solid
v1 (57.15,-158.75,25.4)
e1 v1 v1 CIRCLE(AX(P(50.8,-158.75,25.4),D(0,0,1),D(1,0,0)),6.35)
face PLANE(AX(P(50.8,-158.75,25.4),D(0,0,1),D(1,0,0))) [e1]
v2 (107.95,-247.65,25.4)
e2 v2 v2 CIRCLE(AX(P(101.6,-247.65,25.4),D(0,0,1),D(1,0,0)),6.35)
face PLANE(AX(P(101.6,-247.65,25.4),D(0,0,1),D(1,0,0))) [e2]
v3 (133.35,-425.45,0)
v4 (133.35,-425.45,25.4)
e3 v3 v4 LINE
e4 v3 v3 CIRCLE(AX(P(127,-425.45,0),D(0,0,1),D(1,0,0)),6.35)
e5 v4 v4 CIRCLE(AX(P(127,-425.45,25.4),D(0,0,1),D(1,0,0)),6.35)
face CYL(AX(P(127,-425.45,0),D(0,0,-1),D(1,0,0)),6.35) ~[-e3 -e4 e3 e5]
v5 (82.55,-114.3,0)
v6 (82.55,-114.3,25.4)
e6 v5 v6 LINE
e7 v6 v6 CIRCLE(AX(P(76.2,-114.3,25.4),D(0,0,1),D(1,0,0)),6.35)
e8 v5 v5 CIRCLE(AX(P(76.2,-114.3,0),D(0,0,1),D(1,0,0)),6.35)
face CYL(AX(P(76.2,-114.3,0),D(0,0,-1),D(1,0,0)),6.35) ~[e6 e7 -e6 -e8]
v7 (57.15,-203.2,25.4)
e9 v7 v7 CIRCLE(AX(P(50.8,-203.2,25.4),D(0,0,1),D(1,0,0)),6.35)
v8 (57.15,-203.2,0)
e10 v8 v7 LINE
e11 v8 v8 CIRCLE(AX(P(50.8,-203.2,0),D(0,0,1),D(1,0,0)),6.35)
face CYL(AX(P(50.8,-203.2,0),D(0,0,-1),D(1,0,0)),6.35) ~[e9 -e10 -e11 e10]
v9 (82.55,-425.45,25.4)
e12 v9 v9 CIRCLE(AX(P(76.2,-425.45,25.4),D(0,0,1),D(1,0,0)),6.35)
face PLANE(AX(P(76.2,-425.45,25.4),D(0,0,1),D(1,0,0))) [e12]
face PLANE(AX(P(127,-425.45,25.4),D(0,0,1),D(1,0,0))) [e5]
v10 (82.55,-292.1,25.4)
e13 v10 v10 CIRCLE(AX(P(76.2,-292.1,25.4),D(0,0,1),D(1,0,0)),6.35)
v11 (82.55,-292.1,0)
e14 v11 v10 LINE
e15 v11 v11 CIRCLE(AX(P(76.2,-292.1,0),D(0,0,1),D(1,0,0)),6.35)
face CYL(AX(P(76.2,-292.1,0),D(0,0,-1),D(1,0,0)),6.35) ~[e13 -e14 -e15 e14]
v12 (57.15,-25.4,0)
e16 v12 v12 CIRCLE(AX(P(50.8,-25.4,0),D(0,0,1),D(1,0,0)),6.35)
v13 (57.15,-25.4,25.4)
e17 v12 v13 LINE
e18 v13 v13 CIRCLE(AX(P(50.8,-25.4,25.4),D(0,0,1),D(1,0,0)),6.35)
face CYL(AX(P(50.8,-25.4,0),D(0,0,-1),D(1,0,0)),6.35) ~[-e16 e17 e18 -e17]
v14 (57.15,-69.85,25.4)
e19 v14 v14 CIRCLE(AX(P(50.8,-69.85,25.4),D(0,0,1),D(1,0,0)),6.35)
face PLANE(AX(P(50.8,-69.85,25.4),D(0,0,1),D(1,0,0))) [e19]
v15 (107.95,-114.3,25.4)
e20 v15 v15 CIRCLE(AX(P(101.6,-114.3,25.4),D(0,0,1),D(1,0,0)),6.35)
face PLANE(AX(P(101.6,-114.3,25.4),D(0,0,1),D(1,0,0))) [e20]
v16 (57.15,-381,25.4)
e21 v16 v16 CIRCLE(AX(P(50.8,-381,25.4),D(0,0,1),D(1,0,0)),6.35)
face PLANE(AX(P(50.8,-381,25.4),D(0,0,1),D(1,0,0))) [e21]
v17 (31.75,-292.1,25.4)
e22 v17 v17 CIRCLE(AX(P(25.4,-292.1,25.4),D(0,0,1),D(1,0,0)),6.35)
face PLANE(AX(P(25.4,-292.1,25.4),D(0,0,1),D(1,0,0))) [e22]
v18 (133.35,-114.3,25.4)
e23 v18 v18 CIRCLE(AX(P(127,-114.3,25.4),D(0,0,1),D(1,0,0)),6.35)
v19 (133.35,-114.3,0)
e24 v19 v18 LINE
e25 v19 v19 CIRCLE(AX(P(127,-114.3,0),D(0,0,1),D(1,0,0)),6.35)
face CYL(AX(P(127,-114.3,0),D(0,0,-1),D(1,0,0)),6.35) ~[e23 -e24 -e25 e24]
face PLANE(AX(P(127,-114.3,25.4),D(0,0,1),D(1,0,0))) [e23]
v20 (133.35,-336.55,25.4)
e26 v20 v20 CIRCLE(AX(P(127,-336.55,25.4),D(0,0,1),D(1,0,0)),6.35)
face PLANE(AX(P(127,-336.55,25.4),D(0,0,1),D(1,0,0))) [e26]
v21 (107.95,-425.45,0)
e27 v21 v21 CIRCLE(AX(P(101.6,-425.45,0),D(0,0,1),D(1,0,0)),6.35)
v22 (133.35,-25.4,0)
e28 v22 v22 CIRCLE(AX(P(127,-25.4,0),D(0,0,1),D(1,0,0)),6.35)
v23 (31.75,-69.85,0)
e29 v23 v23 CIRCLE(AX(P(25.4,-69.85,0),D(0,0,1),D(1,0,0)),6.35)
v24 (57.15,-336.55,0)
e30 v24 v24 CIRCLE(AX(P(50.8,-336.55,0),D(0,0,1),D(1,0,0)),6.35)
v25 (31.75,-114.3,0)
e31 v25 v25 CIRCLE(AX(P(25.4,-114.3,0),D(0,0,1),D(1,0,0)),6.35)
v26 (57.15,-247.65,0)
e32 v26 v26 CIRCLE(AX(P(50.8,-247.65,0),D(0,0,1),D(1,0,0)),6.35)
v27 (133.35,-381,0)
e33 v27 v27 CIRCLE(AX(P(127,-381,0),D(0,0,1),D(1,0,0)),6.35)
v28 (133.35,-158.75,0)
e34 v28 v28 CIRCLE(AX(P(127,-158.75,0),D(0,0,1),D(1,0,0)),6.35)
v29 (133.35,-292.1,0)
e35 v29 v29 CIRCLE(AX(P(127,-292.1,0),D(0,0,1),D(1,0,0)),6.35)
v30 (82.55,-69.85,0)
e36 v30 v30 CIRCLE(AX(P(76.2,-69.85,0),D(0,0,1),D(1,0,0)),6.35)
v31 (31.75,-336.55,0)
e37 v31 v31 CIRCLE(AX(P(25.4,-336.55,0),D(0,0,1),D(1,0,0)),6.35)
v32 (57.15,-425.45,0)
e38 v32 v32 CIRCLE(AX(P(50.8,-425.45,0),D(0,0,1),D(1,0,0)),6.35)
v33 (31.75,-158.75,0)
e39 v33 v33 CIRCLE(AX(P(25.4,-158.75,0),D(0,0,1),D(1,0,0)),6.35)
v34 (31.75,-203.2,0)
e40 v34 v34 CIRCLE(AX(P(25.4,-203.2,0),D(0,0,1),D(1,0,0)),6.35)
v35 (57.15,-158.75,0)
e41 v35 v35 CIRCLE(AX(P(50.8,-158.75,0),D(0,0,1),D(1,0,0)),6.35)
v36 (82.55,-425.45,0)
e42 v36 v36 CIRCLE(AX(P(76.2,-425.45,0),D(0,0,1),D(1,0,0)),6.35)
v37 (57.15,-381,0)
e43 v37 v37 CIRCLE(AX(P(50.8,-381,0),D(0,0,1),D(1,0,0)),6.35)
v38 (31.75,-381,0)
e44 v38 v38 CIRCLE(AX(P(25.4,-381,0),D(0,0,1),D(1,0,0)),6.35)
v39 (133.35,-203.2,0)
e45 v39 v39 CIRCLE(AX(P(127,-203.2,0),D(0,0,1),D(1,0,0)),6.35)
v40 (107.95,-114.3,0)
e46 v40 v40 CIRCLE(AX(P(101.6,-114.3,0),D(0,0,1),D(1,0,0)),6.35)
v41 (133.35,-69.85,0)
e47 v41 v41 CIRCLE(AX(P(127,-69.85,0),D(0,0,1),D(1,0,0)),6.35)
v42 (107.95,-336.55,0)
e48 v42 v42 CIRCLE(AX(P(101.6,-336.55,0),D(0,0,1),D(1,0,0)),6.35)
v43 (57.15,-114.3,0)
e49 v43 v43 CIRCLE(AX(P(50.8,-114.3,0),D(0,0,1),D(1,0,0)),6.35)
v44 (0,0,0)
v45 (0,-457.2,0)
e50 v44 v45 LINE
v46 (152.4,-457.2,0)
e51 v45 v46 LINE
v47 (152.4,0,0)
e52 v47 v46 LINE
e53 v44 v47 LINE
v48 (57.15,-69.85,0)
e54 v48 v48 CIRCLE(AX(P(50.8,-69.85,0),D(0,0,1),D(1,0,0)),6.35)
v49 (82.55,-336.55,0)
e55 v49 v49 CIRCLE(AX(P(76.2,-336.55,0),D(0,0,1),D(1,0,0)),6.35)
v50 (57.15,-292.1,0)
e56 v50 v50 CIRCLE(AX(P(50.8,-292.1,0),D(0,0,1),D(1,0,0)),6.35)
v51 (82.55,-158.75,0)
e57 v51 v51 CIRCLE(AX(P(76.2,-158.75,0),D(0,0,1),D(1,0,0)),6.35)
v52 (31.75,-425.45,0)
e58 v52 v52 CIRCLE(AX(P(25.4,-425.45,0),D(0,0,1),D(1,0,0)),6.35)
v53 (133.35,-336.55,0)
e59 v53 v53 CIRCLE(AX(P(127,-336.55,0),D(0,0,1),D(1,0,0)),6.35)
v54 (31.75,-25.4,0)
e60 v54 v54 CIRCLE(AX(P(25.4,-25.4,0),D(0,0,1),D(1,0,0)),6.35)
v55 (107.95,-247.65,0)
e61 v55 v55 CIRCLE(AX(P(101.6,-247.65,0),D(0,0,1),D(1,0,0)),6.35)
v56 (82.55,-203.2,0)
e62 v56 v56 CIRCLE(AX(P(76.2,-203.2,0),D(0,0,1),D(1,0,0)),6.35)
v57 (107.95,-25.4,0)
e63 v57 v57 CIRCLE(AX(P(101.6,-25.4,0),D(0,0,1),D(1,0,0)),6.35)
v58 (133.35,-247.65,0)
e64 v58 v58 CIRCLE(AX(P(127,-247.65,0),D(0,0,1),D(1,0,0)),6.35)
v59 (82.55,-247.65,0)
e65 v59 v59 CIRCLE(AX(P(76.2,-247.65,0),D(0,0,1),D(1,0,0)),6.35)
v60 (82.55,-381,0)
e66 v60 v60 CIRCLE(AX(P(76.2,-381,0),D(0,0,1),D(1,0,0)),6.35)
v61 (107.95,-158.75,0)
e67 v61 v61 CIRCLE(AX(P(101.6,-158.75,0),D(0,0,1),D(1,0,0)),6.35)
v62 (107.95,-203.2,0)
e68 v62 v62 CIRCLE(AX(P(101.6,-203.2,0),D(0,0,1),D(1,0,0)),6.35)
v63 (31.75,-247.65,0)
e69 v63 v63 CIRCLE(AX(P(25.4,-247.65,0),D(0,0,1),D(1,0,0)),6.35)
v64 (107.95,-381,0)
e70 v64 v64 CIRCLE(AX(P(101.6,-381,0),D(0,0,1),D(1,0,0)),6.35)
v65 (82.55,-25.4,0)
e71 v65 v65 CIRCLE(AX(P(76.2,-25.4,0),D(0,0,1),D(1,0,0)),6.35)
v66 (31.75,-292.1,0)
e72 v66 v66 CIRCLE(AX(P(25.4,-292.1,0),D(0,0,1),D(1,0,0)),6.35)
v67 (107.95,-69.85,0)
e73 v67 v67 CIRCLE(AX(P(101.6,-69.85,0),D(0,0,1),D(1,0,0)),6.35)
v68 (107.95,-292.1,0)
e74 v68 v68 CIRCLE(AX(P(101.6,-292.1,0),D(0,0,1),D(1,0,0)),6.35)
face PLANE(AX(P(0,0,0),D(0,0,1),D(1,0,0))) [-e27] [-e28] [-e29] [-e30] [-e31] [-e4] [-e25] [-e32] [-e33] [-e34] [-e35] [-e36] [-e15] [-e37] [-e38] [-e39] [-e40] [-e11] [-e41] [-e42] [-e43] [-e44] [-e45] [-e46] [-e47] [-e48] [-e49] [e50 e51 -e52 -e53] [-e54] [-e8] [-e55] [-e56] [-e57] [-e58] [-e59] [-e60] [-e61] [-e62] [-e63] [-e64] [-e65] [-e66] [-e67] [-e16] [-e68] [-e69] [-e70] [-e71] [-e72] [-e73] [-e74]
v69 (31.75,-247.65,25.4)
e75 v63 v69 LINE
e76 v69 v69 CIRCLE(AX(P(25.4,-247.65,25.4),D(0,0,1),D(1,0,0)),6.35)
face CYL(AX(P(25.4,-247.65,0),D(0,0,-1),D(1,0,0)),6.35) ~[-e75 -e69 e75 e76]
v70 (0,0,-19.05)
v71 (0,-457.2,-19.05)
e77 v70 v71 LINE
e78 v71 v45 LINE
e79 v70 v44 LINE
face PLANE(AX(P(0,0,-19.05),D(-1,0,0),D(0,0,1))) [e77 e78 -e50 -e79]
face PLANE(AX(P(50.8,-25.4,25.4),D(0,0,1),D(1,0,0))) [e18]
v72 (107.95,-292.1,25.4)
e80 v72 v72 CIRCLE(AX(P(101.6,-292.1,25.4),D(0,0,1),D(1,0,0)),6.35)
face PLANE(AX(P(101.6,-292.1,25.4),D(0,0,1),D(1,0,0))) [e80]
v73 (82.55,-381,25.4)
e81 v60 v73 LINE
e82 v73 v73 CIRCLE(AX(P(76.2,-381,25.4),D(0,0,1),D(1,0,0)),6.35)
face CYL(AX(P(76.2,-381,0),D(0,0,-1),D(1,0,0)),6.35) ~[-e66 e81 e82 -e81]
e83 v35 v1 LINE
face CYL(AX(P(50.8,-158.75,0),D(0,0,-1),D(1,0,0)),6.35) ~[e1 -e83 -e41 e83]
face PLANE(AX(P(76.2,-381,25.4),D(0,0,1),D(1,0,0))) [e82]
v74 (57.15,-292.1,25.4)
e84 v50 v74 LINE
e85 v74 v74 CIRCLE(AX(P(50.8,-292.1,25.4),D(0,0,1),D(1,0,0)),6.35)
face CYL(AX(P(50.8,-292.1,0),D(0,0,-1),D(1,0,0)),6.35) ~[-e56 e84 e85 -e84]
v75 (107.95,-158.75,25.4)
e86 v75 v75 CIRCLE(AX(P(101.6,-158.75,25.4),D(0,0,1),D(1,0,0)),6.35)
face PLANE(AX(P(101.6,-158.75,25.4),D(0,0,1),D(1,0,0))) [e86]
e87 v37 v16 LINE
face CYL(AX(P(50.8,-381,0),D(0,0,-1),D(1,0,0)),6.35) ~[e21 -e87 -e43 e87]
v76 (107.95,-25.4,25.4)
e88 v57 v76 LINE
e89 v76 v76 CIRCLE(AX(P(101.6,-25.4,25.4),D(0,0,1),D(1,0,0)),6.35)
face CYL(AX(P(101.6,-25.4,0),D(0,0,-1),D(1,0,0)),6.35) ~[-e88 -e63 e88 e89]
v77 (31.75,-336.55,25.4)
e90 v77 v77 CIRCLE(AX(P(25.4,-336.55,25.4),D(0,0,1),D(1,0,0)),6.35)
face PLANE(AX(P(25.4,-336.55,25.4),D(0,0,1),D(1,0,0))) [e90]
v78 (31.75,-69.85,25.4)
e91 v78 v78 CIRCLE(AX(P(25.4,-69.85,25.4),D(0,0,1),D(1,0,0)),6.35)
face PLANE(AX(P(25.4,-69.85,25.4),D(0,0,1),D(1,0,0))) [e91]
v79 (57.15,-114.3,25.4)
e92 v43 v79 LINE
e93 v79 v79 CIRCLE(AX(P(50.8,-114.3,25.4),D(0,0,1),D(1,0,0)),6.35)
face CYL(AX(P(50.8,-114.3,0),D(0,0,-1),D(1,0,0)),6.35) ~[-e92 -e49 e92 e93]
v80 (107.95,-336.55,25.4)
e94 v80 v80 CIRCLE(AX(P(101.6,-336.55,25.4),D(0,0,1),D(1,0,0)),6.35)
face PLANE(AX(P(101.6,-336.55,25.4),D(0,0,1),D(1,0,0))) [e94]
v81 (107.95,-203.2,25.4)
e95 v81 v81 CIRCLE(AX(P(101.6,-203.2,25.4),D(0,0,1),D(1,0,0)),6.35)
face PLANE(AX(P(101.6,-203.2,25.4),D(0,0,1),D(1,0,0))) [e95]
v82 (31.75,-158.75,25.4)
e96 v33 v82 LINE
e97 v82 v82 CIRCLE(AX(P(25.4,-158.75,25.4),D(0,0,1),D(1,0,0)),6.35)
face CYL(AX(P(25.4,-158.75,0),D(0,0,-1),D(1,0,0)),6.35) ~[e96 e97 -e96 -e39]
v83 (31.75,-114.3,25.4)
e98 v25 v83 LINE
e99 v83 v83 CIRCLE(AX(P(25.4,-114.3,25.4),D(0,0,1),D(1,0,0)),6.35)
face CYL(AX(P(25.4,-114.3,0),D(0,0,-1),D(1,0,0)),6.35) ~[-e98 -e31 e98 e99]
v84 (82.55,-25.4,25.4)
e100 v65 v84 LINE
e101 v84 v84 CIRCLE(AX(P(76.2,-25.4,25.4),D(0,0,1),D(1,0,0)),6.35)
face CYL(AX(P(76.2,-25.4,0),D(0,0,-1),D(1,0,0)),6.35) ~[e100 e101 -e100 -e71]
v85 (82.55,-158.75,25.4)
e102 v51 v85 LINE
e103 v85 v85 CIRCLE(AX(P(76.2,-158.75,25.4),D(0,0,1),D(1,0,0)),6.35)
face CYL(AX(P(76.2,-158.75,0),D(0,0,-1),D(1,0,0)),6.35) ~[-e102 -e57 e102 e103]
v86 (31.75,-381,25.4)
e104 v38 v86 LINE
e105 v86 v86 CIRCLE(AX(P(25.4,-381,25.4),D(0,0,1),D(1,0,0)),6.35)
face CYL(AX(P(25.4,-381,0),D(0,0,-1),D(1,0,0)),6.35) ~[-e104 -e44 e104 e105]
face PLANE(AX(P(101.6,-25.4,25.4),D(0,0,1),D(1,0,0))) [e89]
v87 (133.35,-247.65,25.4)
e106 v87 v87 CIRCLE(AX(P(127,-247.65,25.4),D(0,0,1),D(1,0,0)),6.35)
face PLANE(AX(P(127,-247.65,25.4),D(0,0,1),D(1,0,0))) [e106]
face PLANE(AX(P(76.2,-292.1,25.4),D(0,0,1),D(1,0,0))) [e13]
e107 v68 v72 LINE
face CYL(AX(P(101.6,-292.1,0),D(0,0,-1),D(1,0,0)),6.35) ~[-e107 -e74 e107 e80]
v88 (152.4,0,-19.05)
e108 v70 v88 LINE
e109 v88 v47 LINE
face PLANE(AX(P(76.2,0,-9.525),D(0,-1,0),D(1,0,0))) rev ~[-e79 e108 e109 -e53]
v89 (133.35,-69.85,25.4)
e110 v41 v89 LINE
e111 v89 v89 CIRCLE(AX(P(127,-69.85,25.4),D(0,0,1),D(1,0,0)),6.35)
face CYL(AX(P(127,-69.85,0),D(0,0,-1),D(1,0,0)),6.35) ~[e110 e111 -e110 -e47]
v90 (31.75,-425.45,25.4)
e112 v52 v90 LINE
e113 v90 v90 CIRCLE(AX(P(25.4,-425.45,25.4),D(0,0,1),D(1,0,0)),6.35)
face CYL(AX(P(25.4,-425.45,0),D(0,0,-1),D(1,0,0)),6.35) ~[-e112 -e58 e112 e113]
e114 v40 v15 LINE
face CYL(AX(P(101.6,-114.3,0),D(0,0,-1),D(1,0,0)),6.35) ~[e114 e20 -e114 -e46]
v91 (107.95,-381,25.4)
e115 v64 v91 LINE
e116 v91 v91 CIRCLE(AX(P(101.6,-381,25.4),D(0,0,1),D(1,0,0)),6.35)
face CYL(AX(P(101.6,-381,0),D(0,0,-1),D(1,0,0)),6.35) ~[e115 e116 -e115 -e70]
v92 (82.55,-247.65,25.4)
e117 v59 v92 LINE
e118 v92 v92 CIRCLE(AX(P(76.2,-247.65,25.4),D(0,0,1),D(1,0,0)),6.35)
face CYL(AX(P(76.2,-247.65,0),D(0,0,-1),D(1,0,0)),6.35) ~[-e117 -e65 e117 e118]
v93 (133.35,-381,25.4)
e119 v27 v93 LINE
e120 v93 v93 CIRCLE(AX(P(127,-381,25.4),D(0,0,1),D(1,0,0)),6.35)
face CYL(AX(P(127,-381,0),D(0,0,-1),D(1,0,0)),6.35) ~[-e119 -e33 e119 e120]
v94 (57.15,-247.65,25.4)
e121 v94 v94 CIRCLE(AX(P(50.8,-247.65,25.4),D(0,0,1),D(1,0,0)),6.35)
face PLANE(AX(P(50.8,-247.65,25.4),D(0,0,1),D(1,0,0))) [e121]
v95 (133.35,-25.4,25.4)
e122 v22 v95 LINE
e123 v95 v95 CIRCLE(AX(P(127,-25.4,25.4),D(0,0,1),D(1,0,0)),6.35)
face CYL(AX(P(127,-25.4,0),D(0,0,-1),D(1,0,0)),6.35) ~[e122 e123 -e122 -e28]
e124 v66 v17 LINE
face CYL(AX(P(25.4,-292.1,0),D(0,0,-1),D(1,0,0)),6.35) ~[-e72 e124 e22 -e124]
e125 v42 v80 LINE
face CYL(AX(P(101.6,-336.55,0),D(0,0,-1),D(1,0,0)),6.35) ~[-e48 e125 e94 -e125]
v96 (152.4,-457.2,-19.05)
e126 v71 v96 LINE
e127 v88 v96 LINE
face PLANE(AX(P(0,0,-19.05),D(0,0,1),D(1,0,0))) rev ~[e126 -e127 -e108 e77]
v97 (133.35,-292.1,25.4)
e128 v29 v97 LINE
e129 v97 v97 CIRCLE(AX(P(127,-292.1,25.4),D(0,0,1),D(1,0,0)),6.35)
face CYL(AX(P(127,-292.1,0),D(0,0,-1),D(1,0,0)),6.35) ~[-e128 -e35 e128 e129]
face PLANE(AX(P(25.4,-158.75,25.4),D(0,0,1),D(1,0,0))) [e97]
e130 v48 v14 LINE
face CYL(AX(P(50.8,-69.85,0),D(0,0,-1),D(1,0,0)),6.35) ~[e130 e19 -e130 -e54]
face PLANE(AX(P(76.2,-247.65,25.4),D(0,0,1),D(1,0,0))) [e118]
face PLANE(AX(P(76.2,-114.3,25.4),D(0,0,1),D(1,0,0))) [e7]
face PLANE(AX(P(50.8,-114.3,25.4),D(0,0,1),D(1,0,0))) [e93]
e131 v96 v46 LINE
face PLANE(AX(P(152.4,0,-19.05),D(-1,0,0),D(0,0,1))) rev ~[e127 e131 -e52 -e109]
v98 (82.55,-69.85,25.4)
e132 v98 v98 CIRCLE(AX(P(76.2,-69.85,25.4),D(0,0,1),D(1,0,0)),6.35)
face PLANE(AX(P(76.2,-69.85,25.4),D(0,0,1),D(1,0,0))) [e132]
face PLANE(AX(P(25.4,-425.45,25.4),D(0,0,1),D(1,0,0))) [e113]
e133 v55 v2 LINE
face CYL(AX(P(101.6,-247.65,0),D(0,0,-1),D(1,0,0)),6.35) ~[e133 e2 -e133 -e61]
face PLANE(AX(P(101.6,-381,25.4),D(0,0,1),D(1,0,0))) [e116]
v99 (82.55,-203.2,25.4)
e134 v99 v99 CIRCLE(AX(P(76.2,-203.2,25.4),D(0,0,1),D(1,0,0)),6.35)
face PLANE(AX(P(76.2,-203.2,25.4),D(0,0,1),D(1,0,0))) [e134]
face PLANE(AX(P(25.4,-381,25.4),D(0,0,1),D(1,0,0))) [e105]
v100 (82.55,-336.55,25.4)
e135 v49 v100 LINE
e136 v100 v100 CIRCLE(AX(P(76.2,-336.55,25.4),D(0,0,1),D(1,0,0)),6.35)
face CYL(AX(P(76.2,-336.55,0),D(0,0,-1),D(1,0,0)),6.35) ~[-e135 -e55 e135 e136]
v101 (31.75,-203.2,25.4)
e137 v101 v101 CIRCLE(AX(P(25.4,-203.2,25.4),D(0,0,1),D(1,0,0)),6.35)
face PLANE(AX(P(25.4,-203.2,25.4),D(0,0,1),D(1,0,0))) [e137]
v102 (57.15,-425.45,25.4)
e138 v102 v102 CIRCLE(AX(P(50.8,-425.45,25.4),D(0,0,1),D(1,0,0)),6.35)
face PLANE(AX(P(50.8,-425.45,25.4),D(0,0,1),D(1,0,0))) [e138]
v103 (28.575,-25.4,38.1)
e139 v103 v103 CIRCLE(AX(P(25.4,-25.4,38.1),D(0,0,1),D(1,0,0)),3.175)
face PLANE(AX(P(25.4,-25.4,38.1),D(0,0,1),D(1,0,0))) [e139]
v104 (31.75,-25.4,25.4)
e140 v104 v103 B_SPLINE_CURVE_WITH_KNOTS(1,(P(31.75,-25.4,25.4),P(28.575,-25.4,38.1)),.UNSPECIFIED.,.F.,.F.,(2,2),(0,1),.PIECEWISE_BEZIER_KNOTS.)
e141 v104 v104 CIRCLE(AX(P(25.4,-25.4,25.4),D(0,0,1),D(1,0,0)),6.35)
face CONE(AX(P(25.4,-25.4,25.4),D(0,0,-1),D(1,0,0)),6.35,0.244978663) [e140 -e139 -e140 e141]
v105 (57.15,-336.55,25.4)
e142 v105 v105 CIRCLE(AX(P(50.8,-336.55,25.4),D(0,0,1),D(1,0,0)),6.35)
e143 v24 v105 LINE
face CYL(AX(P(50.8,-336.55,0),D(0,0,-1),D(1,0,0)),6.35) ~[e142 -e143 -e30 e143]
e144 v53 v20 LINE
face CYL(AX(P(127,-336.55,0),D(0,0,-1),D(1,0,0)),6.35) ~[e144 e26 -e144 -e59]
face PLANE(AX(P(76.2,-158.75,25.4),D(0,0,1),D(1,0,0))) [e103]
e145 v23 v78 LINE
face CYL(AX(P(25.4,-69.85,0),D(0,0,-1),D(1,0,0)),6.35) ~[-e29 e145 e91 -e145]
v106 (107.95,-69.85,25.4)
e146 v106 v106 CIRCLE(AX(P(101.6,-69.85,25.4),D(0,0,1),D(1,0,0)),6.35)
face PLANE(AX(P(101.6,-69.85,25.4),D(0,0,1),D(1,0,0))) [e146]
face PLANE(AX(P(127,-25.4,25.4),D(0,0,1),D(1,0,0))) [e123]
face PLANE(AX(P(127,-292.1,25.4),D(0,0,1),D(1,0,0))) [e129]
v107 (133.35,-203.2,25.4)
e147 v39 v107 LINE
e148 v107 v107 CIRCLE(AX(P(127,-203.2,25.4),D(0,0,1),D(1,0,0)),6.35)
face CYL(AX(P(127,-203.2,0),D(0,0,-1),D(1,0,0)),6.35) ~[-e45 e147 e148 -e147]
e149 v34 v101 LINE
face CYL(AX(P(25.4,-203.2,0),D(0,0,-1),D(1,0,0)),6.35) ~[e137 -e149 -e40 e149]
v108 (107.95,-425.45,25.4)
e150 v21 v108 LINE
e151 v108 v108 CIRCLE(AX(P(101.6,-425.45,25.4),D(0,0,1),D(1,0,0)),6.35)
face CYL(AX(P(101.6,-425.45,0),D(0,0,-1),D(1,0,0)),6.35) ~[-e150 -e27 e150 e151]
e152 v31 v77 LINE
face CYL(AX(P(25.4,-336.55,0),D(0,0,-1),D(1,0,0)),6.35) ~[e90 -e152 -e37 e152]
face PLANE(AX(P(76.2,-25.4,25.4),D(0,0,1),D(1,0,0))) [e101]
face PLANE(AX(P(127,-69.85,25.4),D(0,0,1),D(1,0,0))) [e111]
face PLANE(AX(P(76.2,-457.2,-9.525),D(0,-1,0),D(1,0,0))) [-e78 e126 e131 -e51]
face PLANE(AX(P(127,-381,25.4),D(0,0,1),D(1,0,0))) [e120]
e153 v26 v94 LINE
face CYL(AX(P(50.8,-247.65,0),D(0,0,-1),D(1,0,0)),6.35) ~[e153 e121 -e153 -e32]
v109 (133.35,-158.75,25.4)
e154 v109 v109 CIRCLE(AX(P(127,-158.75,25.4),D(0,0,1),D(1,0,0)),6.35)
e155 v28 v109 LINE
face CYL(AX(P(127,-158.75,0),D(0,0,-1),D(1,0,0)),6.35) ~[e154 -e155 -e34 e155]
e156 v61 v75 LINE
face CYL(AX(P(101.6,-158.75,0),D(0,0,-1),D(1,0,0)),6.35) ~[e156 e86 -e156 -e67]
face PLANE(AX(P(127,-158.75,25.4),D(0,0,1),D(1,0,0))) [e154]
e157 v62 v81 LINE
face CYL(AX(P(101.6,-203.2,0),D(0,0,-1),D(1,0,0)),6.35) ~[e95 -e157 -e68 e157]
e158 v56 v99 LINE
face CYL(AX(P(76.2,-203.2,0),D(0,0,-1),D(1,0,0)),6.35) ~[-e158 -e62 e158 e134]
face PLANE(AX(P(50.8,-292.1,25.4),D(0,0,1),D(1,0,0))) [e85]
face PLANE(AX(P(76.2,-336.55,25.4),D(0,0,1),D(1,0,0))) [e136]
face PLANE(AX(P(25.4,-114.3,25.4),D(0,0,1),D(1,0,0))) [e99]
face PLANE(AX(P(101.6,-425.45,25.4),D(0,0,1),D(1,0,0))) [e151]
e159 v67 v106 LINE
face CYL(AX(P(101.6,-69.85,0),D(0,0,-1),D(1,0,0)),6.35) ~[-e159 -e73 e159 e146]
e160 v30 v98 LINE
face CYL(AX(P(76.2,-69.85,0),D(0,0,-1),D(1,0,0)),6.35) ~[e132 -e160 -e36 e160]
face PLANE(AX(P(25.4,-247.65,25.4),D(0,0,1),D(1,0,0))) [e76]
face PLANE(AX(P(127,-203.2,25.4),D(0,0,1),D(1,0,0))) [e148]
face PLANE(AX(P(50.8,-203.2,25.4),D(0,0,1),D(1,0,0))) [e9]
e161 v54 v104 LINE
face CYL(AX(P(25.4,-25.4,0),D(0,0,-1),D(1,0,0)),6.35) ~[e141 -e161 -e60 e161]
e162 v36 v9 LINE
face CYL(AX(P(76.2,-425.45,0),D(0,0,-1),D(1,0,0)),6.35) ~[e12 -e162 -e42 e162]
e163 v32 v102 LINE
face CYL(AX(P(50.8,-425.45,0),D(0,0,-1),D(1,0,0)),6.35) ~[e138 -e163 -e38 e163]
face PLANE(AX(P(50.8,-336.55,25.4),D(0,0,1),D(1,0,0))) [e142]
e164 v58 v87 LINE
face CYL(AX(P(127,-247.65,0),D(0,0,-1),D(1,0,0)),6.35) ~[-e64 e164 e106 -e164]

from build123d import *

# Parameters (mm, degrees)
F0_W     = 152.4
F0_H     = 19.05
F1_DEPTH = 457.2
F2_R     = 6.35
F3_DEPTH = 25.4
F4_R     = 6.35
F6_R     = 3.175


with BuildPart() as f1:
    # F0 (on Front) → F1 (new body)
    with BuildSketch(Plane.XZ):
        with Locations((76.2, -9.525)):
            Rectangle(F0_W, F0_H)
    extrude(amount=F1_DEPTH)

    # F2 (on face) → F3 (join)
    with BuildSketch(Plane.XY):
        with Locations((25.4, -25.4)):
            Circle(F2_R)
        with Locations((25.4, -69.85)):
            Circle(F2_R)
        with Locations((25.4, -114.3)):
            Circle(F2_R)
        with Locations((25.4, -158.75)):
            Circle(F2_R)
        with Locations((25.4, -203.2)):
            Circle(F2_R)
        with Locations((25.4, -247.65)):
            Circle(F2_R)
        with Locations((25.4, -292.1)):
            Circle(F2_R)
        with Locations((25.4, -336.55)):
            Circle(F2_R)
        with Locations((50.8, -25.4)):
            Circle(F2_R)
        with Locations((50.8, -69.85)):
            Circle(F2_R)
        with Locations((50.8, -114.3)):
            Circle(F2_R)
        with Locations((50.8, -158.75)):
            Circle(F2_R)
        with Locations((50.8, -203.2)):
            Circle(F2_R)
        with Locations((50.8, -247.65)):
            Circle(F2_R)
        with Locations((50.8, -292.1)):
            Circle(F2_R)
        with Locations((50.8, -336.55)):
            Circle(F2_R)
        with Locations((76.2, -25.4)):
            Circle(F2_R)
        with Locations((76.2, -69.85)):
            Circle(F2_R)
        with Locations((76.2, -114.3)):
            Circle(F2_R)
        with Locations((76.2, -158.75)):
            Circle(F2_R)
        with Locations((76.2, -203.2)):
            Circle(F2_R)
        with Locations((76.2, -247.65)):
            Circle(F2_R)
        with Locations((76.2, -292.1)):
            Circle(F2_R)
        with Locations((76.2, -336.55)):
            Circle(F2_R)
        with Locations((101.6, -25.4)):
            Circle(F2_R)
        with Locations((101.6, -69.85)):
            Circle(F2_R)
        with Locations((101.6, -114.3)):
            Circle(F2_R)
        with Locations((101.6, -158.75)):
            Circle(F2_R)
        with Locations((101.6, -203.2)):
            Circle(F2_R)
        with Locations((101.6, -247.65)):
            Circle(F2_R)
        with Locations((101.6, -292.1)):
            Circle(F2_R)
        with Locations((101.6, -336.55)):
            Circle(F2_R)
        with Locations((127, -25.4)):
            Circle(F2_R)
        with Locations((127, -69.85)):
            Circle(F2_R)
        with Locations((127, -114.3)):
            Circle(F2_R)
        with Locations((127, -158.75)):
            Circle(F2_R)
        with Locations((127, -203.2)):
            Circle(F2_R)
        with Locations((127, -247.65)):
            Circle(F2_R)
        with Locations((127, -292.1)):
            Circle(F2_R)
        with Locations((127, -336.55)):
            Circle(F2_R)
        with Locations((25.4, -381)):
            Circle(F2_R)
        with Locations((25.4, -425.45)):
            Circle(F2_R)
        with Locations((50.8, -381)):
            Circle(F2_R)
        with Locations((50.8, -425.45)):
            Circle(F2_R)
        with Locations((76.2, -381)):
            Circle(F2_R)
        with Locations((76.2, -425.45)):
            Circle(F2_R)
        with Locations((101.6, -381)):
            Circle(F2_R)
        with Locations((101.6, -425.45)):
            Circle(F2_R)
        with Locations((127, -381)):
            Circle(F2_R)
        with Locations((127, -425.45)):
            Circle(F2_R)
    extrude(amount=F3_DEPTH)

    # F4 (on face) → F7 section 0
    with BuildSketch(Plane.XY.offset(25.4)):
        with Locations((25.4, -25.4)):
            Circle(F4_R)
    # F6 (on offset) → F7 section 1
    with BuildSketch(Plane.XY.offset(38.1)):
        with Locations((25.4, -25.4)):
            Circle(F6_R)
    loft()


solid = f1.part
